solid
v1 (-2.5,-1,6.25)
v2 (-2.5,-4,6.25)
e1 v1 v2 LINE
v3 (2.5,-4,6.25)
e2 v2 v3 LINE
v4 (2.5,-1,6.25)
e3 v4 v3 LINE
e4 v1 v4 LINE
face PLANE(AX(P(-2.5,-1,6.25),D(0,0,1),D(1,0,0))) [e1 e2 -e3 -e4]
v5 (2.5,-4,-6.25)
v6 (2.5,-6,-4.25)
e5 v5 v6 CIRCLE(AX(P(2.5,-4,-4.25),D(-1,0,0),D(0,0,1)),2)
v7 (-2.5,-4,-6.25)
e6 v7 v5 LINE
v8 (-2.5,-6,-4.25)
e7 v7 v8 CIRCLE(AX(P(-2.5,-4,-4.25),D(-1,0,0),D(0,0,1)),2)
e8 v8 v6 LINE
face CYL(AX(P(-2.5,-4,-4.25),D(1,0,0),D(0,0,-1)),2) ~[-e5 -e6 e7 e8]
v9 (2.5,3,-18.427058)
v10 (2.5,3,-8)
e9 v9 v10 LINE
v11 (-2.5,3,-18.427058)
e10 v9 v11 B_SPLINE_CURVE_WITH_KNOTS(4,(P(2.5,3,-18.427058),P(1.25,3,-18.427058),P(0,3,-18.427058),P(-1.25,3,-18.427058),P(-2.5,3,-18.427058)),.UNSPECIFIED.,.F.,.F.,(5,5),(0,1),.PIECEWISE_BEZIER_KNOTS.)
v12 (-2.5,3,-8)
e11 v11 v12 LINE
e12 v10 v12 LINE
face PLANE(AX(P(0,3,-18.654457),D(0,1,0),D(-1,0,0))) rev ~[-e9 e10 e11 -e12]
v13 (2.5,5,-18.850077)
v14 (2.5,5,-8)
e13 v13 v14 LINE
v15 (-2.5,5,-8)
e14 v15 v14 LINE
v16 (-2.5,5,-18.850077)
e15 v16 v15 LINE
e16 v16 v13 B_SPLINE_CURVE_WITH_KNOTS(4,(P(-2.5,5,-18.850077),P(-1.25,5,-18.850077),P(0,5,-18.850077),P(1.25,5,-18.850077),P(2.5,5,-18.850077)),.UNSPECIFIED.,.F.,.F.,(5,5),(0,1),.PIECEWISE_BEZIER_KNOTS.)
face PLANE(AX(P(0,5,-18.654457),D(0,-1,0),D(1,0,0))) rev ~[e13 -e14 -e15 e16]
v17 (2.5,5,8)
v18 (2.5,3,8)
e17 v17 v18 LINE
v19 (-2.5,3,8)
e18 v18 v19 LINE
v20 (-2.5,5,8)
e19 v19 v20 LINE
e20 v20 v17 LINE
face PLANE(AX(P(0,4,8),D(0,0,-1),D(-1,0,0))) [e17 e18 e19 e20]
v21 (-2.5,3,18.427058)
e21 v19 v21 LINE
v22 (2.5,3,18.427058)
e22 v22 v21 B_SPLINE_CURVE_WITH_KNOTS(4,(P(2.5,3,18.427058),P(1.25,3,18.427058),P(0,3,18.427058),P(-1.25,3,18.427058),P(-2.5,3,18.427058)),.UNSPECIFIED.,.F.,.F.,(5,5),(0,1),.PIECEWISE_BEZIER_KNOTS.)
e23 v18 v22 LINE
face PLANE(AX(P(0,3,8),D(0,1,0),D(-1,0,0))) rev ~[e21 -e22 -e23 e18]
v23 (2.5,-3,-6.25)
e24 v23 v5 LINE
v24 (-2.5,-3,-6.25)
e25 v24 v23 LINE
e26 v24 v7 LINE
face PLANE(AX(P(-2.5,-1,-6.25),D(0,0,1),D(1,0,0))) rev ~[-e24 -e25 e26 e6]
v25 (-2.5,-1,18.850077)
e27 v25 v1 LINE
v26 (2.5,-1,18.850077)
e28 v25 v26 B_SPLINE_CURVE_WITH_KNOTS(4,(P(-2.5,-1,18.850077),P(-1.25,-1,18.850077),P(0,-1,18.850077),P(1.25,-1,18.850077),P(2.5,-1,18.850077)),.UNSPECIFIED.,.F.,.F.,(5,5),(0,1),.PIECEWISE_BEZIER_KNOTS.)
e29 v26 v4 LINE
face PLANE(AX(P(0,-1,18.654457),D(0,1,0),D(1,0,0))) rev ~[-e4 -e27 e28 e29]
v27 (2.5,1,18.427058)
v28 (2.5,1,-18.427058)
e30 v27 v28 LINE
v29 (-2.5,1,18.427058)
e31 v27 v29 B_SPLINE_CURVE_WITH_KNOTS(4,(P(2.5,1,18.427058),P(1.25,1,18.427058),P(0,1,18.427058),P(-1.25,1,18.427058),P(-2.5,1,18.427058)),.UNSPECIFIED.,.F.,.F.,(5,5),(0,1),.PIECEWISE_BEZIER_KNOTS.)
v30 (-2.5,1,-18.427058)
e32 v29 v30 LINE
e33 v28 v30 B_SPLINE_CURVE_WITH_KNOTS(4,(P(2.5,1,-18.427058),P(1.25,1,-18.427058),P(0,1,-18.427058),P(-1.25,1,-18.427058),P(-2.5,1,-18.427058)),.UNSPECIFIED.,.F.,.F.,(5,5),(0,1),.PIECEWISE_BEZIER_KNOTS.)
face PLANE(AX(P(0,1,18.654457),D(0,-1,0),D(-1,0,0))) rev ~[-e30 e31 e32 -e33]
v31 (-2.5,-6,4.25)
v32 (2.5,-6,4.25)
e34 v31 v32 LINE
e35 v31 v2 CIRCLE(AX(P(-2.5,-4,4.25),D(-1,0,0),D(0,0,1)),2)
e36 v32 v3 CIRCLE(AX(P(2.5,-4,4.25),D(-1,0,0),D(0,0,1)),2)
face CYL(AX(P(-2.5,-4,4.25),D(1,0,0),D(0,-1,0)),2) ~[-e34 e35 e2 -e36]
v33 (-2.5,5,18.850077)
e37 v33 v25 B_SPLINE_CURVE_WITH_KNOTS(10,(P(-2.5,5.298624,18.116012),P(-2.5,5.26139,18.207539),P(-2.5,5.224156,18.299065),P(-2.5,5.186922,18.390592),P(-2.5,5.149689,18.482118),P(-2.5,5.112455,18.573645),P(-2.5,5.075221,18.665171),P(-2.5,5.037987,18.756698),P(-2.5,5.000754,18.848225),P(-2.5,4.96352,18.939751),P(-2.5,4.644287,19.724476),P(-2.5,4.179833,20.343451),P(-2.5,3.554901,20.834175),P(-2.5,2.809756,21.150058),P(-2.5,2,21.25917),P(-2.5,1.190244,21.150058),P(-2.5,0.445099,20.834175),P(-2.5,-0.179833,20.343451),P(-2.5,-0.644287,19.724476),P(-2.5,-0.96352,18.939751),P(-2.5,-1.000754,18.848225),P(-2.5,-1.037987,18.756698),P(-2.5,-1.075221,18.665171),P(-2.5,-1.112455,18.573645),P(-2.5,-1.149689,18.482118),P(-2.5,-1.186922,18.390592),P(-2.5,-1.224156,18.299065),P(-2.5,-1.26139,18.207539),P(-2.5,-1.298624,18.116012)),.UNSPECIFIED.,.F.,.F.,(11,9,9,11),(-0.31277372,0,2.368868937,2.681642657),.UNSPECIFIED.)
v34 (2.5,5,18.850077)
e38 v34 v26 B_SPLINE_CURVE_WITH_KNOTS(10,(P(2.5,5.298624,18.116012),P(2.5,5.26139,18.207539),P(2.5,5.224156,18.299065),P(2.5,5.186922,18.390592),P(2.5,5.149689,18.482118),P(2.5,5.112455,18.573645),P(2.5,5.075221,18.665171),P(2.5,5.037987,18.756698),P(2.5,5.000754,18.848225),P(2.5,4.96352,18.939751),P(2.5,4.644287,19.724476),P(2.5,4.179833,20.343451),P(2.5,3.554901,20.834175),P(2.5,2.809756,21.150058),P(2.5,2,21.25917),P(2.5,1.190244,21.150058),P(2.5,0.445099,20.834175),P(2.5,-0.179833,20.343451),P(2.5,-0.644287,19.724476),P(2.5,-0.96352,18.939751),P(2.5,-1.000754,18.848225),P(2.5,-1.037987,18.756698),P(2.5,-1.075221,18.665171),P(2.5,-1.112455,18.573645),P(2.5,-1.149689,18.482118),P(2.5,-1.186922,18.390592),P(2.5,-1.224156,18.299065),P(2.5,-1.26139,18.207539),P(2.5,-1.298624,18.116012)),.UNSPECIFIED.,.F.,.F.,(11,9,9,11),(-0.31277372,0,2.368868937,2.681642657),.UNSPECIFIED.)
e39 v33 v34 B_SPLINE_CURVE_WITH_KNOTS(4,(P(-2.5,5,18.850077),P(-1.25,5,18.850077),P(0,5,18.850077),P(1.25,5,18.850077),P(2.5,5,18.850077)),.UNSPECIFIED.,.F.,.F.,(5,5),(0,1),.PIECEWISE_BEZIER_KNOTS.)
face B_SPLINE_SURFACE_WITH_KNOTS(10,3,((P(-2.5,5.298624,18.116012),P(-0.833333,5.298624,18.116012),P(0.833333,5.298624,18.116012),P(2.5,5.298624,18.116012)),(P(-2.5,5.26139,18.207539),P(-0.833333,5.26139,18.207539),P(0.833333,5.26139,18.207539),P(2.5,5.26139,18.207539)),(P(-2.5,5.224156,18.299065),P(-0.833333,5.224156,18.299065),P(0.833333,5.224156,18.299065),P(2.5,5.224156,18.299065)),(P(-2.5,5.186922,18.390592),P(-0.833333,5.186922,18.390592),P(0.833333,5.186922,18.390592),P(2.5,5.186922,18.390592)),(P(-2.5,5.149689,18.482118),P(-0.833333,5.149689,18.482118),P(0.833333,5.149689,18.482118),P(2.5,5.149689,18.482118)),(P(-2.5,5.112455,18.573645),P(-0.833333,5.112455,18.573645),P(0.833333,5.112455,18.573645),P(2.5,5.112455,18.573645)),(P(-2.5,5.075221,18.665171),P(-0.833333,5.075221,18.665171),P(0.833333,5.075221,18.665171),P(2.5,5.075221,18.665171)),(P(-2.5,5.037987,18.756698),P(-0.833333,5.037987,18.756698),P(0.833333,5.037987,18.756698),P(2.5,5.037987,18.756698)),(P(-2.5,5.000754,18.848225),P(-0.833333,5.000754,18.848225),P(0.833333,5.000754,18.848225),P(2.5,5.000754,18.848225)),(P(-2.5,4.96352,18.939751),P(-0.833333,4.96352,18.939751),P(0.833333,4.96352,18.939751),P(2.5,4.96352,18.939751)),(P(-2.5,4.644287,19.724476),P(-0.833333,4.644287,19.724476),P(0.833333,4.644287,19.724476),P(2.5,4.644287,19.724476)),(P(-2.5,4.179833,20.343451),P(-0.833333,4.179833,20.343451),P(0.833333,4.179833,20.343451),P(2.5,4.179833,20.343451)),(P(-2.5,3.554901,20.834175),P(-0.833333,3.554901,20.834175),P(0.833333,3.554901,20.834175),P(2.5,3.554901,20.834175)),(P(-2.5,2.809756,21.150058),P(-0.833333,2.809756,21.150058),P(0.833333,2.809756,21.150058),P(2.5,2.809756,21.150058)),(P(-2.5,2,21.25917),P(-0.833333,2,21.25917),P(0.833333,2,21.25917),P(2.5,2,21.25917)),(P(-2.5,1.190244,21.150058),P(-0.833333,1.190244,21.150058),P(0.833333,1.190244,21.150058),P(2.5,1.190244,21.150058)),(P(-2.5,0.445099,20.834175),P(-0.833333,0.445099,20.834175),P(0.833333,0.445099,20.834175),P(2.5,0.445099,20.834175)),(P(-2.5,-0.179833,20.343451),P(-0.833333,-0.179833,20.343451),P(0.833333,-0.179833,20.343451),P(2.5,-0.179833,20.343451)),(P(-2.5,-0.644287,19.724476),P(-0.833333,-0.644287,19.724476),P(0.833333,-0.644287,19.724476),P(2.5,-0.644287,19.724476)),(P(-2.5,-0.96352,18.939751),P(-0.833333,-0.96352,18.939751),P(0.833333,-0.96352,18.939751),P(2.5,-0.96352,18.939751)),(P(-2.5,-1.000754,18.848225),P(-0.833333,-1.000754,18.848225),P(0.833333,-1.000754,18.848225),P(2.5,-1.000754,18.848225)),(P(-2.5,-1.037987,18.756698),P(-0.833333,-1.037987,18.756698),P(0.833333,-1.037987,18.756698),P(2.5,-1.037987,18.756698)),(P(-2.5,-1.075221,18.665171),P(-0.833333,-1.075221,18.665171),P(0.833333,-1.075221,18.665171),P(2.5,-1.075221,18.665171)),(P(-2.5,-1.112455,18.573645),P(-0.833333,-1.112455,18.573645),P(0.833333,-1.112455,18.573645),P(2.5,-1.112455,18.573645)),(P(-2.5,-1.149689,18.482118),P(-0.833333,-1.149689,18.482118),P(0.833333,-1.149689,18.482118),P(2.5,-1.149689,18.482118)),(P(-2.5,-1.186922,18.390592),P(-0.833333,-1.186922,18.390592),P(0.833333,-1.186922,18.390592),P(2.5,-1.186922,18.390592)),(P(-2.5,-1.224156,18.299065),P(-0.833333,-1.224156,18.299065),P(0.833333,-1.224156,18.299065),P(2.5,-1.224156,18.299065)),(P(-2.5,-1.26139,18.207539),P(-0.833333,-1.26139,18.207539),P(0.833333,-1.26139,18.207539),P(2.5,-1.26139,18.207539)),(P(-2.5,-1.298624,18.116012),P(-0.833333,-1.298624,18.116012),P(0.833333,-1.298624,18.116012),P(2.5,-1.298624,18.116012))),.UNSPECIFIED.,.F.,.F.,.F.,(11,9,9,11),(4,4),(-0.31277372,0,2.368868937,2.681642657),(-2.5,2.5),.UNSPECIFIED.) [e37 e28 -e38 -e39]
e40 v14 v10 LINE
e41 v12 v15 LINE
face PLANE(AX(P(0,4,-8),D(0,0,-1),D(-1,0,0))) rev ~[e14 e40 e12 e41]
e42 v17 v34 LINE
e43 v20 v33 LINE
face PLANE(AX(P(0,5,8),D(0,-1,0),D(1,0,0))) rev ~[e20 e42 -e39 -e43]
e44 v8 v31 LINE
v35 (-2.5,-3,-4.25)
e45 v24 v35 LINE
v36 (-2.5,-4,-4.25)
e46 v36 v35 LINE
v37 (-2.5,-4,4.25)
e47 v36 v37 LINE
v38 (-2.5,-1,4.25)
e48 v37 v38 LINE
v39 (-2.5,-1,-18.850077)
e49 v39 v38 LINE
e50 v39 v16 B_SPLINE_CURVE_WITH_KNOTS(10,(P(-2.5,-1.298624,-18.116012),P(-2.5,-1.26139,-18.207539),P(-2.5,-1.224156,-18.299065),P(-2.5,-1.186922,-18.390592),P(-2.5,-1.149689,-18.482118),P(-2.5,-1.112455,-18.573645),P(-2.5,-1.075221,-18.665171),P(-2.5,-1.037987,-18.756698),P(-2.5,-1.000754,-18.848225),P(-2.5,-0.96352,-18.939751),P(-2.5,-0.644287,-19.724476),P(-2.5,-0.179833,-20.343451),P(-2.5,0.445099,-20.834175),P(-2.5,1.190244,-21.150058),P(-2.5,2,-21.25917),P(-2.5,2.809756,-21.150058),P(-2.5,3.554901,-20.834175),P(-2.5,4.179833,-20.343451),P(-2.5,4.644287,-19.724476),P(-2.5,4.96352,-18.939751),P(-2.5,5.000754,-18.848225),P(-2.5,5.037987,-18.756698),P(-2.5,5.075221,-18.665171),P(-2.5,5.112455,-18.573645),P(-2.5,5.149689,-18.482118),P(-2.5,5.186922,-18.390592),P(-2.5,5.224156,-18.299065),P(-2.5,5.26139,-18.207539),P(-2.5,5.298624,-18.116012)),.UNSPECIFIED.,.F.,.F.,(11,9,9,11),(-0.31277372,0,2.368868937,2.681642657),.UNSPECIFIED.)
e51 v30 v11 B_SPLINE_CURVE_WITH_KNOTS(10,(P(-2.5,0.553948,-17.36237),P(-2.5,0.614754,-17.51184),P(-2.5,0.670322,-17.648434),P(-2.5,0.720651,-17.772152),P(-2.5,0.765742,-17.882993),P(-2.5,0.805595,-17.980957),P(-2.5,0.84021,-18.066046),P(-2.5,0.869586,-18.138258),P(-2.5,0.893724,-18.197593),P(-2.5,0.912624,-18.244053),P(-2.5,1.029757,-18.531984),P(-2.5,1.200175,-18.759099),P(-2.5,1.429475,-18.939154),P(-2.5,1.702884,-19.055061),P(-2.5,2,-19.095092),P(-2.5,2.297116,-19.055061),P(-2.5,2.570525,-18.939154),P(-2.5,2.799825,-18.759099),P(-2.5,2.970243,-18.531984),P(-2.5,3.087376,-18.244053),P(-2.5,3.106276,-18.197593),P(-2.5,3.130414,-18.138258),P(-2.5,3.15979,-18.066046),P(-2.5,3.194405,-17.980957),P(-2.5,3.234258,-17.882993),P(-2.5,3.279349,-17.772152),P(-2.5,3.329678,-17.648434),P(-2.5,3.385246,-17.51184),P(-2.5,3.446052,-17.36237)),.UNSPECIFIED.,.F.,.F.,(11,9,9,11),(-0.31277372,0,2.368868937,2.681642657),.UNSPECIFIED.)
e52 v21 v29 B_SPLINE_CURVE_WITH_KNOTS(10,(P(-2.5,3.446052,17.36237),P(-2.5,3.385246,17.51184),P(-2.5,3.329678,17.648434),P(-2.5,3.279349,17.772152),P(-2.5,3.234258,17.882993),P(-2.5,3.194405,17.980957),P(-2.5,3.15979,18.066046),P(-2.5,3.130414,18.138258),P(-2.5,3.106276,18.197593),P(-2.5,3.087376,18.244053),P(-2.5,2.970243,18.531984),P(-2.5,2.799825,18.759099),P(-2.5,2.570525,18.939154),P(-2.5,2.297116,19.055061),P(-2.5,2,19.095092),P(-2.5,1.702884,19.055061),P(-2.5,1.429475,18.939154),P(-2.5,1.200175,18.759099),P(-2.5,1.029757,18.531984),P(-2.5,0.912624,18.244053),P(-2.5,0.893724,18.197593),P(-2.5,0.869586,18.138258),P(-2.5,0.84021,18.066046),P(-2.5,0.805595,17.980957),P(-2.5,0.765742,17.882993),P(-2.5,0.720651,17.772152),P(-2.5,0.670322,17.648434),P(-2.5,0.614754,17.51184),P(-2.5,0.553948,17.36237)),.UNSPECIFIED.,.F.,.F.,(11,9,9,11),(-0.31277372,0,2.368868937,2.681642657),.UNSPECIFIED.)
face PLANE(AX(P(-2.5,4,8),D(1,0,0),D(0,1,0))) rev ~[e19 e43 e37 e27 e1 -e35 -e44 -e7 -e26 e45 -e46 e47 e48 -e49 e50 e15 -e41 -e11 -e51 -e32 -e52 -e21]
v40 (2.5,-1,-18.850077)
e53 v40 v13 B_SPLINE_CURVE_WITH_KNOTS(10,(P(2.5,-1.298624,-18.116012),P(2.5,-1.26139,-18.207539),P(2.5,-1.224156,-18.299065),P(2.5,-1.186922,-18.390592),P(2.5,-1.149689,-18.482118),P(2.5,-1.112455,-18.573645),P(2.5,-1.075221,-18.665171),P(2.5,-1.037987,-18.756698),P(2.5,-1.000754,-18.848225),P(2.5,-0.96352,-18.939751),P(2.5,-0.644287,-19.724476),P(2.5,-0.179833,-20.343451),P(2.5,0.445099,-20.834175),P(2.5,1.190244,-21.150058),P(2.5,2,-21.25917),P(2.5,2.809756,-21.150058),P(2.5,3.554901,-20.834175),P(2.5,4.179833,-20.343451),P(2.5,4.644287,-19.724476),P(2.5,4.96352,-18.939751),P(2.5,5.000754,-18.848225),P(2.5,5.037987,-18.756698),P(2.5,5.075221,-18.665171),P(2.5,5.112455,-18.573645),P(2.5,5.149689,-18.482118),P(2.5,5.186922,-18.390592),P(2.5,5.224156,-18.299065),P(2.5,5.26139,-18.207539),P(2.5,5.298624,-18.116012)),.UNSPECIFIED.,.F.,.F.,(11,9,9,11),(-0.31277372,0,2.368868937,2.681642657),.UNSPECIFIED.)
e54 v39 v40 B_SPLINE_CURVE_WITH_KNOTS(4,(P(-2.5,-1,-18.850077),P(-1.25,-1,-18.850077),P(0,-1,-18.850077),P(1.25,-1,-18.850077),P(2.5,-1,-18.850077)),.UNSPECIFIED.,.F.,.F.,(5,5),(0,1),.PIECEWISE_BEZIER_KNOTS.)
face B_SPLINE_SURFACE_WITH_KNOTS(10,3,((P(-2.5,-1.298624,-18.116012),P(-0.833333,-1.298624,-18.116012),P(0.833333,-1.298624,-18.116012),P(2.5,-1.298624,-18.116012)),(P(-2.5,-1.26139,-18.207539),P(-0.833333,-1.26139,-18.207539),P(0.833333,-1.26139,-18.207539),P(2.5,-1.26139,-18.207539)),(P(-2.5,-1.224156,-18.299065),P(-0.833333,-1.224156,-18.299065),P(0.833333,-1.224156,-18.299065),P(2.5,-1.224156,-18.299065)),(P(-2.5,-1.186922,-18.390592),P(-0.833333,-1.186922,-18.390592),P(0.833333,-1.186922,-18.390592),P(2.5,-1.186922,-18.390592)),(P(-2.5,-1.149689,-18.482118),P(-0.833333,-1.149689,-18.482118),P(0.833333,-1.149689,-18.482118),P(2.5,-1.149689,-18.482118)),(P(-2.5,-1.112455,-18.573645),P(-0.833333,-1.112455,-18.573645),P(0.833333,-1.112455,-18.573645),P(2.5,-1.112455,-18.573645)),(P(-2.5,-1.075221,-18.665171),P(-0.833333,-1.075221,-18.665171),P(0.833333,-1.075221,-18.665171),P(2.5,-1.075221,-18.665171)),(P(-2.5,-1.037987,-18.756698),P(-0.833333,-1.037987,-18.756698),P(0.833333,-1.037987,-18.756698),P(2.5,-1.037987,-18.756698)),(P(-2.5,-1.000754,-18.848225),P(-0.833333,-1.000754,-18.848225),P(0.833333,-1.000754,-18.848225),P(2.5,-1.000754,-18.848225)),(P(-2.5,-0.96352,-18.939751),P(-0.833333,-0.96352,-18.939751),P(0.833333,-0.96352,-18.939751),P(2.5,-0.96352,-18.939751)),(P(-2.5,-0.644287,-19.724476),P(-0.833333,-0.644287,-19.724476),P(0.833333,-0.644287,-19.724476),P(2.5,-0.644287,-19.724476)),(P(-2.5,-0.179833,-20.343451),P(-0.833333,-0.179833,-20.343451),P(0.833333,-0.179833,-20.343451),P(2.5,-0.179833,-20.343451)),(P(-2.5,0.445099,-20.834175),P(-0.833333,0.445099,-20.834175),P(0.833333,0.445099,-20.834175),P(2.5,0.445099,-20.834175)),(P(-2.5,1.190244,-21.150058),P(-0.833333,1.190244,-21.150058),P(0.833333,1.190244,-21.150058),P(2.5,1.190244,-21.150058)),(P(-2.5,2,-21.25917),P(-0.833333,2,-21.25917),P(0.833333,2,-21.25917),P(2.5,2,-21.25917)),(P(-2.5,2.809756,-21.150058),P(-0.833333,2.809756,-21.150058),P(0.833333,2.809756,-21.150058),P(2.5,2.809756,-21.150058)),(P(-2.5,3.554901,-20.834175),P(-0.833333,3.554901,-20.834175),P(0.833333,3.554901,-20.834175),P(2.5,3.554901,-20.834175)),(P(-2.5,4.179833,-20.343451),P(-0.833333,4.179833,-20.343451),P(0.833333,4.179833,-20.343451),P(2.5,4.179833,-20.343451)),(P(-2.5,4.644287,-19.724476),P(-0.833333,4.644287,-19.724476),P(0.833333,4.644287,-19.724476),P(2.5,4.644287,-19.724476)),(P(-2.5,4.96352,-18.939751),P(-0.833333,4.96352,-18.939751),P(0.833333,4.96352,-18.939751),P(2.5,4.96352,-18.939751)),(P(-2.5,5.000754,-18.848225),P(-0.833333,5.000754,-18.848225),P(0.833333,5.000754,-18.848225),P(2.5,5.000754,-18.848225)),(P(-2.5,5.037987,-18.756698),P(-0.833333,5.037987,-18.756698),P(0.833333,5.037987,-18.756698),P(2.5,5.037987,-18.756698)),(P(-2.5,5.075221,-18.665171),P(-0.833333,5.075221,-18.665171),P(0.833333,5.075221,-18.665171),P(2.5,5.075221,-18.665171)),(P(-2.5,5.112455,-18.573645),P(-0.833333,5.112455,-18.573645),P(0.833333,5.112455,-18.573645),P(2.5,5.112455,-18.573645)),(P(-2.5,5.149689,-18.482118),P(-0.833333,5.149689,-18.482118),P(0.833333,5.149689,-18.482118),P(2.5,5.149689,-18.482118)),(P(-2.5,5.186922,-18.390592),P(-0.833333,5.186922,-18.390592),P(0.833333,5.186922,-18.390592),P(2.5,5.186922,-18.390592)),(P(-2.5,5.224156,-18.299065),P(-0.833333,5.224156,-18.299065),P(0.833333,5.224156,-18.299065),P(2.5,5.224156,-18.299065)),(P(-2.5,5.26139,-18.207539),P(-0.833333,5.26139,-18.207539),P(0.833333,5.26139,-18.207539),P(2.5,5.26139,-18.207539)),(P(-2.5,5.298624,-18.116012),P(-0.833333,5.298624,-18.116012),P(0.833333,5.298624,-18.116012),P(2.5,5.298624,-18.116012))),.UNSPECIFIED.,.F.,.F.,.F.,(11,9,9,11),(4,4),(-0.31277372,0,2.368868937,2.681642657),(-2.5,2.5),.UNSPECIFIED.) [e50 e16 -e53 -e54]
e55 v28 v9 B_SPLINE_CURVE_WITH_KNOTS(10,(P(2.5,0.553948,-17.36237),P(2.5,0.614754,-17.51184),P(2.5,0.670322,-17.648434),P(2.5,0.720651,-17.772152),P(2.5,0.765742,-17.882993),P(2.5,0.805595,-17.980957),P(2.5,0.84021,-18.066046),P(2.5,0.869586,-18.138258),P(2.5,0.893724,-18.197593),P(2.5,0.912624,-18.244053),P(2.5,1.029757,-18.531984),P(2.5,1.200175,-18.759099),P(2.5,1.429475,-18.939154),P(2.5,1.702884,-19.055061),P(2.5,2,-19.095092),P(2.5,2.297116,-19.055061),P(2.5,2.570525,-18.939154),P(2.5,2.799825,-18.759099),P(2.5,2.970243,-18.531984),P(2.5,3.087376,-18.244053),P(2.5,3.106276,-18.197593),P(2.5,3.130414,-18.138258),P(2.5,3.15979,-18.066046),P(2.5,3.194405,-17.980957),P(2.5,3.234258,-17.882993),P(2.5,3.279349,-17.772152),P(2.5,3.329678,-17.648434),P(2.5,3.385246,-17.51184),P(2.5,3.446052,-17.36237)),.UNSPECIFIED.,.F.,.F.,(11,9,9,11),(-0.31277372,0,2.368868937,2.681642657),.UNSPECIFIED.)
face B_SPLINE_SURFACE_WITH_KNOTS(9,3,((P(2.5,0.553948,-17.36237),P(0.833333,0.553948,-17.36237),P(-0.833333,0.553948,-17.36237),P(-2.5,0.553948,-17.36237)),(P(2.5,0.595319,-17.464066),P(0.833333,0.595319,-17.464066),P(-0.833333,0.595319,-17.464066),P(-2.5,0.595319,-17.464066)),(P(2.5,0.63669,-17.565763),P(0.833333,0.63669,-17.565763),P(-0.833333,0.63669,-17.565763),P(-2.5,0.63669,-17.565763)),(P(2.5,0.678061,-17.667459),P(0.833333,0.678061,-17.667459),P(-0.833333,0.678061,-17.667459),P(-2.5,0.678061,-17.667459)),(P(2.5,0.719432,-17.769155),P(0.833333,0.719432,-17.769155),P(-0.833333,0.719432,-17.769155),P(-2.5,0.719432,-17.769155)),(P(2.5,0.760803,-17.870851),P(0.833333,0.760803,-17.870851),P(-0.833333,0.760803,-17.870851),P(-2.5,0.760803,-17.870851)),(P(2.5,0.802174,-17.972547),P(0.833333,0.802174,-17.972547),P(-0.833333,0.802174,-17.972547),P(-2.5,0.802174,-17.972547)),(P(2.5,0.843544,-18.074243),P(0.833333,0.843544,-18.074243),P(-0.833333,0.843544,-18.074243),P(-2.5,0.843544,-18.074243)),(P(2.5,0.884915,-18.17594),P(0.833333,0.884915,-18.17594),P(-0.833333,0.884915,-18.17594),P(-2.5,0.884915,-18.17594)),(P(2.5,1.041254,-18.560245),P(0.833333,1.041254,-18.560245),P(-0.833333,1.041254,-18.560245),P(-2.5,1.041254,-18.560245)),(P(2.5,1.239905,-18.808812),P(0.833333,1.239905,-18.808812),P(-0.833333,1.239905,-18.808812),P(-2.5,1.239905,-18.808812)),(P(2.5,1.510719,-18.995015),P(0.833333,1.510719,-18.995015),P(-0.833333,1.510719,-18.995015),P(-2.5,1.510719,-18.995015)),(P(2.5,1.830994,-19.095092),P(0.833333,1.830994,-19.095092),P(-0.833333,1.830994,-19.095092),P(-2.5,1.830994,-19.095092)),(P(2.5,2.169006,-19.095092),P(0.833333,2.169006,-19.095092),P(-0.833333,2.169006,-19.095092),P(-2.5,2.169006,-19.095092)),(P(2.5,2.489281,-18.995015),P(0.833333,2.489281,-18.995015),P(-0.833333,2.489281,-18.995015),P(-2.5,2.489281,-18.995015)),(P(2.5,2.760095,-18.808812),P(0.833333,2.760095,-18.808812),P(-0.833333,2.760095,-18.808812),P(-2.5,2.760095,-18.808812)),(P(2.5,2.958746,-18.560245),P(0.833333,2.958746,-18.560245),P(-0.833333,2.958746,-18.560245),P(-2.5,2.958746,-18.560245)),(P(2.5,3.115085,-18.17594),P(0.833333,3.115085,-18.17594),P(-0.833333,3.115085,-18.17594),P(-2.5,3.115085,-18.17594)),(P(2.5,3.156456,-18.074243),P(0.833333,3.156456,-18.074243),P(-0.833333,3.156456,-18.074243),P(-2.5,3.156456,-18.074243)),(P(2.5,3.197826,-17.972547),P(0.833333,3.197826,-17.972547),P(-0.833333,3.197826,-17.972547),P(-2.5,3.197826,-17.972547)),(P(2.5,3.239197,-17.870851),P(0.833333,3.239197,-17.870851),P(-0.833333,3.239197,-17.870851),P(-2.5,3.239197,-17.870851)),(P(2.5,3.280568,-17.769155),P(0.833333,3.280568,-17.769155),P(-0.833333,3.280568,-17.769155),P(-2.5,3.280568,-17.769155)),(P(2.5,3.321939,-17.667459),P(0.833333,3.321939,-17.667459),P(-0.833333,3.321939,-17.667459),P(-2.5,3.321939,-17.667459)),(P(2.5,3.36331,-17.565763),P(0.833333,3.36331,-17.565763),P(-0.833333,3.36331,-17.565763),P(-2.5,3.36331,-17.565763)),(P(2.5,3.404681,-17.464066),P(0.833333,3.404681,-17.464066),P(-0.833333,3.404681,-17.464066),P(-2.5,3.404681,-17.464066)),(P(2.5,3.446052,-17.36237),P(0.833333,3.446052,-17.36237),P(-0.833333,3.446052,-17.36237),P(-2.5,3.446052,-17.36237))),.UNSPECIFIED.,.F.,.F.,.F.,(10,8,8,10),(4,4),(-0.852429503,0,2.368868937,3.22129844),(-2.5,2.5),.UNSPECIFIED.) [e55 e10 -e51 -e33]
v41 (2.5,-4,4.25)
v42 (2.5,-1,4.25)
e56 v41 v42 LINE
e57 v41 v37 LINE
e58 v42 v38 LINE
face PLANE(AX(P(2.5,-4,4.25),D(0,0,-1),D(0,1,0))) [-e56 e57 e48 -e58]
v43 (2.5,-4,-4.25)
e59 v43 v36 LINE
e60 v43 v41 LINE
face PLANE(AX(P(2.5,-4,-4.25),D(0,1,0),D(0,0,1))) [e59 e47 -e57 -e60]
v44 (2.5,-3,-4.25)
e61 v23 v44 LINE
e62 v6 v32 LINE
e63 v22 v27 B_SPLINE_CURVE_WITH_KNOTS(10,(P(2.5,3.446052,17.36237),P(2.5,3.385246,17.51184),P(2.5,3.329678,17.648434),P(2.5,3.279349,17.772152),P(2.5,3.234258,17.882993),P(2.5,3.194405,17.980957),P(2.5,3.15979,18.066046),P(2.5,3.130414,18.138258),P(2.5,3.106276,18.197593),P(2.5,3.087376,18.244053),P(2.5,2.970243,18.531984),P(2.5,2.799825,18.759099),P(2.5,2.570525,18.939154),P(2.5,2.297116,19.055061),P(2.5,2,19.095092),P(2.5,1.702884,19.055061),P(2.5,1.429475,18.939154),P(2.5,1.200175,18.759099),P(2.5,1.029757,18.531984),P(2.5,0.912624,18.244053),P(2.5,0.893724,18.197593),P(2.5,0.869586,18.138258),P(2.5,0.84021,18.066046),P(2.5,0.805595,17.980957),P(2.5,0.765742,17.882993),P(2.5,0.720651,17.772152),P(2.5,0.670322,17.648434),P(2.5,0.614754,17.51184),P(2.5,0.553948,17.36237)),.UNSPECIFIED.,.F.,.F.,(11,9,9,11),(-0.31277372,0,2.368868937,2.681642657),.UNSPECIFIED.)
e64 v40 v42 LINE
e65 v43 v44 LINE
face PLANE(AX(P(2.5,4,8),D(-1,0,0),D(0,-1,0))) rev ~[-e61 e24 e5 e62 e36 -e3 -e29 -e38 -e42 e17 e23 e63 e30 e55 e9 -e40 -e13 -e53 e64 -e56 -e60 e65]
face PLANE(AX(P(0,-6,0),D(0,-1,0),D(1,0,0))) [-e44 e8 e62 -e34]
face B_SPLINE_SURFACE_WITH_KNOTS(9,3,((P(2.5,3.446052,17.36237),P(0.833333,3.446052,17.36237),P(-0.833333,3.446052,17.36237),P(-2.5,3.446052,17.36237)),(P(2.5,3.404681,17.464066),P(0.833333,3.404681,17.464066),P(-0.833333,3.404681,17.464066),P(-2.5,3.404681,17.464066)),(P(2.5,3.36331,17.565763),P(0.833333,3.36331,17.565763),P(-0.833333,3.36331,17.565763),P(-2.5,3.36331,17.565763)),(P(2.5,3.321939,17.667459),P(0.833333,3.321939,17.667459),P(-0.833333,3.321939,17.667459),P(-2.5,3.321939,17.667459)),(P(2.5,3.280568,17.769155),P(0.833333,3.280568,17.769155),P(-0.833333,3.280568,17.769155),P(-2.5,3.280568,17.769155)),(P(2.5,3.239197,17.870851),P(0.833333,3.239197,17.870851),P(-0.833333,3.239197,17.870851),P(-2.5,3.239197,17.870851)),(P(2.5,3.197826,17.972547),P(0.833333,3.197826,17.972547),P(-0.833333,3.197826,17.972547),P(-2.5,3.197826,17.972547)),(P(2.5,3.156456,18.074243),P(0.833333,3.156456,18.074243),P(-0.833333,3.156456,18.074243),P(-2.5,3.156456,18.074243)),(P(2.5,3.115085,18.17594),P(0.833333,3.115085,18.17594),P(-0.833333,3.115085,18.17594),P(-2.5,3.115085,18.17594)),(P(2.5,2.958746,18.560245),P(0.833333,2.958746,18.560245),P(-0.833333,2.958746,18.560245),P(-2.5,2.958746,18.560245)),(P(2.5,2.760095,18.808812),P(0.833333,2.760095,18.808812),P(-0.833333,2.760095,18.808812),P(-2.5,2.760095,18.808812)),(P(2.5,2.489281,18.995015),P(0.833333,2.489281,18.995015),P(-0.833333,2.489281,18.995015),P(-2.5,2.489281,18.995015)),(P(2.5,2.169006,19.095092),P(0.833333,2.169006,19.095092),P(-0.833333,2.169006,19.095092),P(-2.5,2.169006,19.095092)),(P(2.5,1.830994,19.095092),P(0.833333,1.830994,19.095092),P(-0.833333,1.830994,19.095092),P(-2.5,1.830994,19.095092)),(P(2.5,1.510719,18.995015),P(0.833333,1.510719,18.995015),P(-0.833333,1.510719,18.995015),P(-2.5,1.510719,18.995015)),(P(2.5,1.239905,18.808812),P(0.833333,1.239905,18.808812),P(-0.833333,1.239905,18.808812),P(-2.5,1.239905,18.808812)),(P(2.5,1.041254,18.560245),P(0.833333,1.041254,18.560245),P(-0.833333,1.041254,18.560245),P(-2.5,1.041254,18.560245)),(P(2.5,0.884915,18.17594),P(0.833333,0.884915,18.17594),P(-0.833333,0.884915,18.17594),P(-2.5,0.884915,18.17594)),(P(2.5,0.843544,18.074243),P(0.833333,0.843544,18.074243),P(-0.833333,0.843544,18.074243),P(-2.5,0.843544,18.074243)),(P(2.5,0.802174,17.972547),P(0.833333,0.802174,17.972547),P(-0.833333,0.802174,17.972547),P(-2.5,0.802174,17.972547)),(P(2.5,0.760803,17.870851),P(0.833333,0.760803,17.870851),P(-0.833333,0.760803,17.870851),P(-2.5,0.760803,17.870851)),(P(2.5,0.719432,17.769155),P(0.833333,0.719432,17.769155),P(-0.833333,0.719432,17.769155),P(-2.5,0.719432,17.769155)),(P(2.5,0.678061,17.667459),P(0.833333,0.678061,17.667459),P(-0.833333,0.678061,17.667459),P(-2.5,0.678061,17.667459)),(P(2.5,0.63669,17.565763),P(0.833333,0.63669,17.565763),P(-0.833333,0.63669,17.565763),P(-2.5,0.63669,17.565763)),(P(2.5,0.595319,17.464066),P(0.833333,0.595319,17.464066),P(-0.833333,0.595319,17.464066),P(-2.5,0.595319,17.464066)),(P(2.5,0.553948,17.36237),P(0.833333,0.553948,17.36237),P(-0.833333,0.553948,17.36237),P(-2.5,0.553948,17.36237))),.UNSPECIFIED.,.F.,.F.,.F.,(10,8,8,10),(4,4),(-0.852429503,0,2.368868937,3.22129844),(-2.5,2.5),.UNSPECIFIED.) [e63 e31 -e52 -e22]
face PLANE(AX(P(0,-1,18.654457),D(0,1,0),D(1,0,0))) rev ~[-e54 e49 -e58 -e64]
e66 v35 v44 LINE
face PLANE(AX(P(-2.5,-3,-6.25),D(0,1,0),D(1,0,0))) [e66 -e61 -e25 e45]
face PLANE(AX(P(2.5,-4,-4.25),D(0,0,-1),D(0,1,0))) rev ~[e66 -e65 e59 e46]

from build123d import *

# Parameters (mm, degrees)
F2_W      = 5
F2_H      = 2
F5_W      = 5
F5_H      = 12.5
F6_DEPTH  = 5
F7_W      = 3
F7_H      = 8.5
F8_DEPTH  = 5.0010001
F9_W      = 5
F9_H      = 2
F10_DEPTH = 2
F11_R     = 2


with BuildPart() as f3:
    # F3: sweep along a path in F1
    with BuildLine(Plane.YZ) as f3_path:
        Line((4, 8), (4, 18.6544566876))
        ThreePointArc((4, 18.6544566876), (2, 20), (0, 18.6544566876))
        Line((0, 18.6544566876), (0, 0))
        Line((0, 0), (0, -18.6544566876))
        ThreePointArc((0, -18.6544566876), (2, -20), (4, -18.6544566876))
        Line((4, -18.6544566876), (4, -8))
    # F2 (on Top) → F3 (sweep)
    with BuildSketch(Plane.XY):
        Rectangle(F2_W, F2_H)
    sweep(path=f3_path.line, transition=Transition.RIGHT)

    # F5 (on face) → F6 (join)
    with BuildSketch(Plane.XZ.offset(1)):
        Rectangle(F5_W, F5_H)
    extrude(amount=F6_DEPTH)

    # F7 (on face) → F8 (cut, through all)
    with BuildSketch(Plane.YZ.offset(2.5)):
        with Locations((-2.5, 0)):
            Rectangle(F7_W, F7_H)
    extrude(amount=-F8_DEPTH, mode=Mode.SUBTRACT)

    # F9 (on face) → F10 (cut, through all)
    with BuildSketch(Plane(origin=(0, 0, -6.25), x_dir=(1, 0, 0), z_dir=(0, 0, -1))):
        with Locations((0, 2)):
            Rectangle(F9_W, F9_H)
    extrude(amount=-F10_DEPTH, mode=Mode.SUBTRACT)

    # F11
    f11_edges = [f3.edges().sort_by_distance(p)[0] for p in [
        (0, -6, 6.25),
        (0, -6, -6.25),
    ]]
    fillet(f11_edges, radius=F11_R)


solid = f3.part
